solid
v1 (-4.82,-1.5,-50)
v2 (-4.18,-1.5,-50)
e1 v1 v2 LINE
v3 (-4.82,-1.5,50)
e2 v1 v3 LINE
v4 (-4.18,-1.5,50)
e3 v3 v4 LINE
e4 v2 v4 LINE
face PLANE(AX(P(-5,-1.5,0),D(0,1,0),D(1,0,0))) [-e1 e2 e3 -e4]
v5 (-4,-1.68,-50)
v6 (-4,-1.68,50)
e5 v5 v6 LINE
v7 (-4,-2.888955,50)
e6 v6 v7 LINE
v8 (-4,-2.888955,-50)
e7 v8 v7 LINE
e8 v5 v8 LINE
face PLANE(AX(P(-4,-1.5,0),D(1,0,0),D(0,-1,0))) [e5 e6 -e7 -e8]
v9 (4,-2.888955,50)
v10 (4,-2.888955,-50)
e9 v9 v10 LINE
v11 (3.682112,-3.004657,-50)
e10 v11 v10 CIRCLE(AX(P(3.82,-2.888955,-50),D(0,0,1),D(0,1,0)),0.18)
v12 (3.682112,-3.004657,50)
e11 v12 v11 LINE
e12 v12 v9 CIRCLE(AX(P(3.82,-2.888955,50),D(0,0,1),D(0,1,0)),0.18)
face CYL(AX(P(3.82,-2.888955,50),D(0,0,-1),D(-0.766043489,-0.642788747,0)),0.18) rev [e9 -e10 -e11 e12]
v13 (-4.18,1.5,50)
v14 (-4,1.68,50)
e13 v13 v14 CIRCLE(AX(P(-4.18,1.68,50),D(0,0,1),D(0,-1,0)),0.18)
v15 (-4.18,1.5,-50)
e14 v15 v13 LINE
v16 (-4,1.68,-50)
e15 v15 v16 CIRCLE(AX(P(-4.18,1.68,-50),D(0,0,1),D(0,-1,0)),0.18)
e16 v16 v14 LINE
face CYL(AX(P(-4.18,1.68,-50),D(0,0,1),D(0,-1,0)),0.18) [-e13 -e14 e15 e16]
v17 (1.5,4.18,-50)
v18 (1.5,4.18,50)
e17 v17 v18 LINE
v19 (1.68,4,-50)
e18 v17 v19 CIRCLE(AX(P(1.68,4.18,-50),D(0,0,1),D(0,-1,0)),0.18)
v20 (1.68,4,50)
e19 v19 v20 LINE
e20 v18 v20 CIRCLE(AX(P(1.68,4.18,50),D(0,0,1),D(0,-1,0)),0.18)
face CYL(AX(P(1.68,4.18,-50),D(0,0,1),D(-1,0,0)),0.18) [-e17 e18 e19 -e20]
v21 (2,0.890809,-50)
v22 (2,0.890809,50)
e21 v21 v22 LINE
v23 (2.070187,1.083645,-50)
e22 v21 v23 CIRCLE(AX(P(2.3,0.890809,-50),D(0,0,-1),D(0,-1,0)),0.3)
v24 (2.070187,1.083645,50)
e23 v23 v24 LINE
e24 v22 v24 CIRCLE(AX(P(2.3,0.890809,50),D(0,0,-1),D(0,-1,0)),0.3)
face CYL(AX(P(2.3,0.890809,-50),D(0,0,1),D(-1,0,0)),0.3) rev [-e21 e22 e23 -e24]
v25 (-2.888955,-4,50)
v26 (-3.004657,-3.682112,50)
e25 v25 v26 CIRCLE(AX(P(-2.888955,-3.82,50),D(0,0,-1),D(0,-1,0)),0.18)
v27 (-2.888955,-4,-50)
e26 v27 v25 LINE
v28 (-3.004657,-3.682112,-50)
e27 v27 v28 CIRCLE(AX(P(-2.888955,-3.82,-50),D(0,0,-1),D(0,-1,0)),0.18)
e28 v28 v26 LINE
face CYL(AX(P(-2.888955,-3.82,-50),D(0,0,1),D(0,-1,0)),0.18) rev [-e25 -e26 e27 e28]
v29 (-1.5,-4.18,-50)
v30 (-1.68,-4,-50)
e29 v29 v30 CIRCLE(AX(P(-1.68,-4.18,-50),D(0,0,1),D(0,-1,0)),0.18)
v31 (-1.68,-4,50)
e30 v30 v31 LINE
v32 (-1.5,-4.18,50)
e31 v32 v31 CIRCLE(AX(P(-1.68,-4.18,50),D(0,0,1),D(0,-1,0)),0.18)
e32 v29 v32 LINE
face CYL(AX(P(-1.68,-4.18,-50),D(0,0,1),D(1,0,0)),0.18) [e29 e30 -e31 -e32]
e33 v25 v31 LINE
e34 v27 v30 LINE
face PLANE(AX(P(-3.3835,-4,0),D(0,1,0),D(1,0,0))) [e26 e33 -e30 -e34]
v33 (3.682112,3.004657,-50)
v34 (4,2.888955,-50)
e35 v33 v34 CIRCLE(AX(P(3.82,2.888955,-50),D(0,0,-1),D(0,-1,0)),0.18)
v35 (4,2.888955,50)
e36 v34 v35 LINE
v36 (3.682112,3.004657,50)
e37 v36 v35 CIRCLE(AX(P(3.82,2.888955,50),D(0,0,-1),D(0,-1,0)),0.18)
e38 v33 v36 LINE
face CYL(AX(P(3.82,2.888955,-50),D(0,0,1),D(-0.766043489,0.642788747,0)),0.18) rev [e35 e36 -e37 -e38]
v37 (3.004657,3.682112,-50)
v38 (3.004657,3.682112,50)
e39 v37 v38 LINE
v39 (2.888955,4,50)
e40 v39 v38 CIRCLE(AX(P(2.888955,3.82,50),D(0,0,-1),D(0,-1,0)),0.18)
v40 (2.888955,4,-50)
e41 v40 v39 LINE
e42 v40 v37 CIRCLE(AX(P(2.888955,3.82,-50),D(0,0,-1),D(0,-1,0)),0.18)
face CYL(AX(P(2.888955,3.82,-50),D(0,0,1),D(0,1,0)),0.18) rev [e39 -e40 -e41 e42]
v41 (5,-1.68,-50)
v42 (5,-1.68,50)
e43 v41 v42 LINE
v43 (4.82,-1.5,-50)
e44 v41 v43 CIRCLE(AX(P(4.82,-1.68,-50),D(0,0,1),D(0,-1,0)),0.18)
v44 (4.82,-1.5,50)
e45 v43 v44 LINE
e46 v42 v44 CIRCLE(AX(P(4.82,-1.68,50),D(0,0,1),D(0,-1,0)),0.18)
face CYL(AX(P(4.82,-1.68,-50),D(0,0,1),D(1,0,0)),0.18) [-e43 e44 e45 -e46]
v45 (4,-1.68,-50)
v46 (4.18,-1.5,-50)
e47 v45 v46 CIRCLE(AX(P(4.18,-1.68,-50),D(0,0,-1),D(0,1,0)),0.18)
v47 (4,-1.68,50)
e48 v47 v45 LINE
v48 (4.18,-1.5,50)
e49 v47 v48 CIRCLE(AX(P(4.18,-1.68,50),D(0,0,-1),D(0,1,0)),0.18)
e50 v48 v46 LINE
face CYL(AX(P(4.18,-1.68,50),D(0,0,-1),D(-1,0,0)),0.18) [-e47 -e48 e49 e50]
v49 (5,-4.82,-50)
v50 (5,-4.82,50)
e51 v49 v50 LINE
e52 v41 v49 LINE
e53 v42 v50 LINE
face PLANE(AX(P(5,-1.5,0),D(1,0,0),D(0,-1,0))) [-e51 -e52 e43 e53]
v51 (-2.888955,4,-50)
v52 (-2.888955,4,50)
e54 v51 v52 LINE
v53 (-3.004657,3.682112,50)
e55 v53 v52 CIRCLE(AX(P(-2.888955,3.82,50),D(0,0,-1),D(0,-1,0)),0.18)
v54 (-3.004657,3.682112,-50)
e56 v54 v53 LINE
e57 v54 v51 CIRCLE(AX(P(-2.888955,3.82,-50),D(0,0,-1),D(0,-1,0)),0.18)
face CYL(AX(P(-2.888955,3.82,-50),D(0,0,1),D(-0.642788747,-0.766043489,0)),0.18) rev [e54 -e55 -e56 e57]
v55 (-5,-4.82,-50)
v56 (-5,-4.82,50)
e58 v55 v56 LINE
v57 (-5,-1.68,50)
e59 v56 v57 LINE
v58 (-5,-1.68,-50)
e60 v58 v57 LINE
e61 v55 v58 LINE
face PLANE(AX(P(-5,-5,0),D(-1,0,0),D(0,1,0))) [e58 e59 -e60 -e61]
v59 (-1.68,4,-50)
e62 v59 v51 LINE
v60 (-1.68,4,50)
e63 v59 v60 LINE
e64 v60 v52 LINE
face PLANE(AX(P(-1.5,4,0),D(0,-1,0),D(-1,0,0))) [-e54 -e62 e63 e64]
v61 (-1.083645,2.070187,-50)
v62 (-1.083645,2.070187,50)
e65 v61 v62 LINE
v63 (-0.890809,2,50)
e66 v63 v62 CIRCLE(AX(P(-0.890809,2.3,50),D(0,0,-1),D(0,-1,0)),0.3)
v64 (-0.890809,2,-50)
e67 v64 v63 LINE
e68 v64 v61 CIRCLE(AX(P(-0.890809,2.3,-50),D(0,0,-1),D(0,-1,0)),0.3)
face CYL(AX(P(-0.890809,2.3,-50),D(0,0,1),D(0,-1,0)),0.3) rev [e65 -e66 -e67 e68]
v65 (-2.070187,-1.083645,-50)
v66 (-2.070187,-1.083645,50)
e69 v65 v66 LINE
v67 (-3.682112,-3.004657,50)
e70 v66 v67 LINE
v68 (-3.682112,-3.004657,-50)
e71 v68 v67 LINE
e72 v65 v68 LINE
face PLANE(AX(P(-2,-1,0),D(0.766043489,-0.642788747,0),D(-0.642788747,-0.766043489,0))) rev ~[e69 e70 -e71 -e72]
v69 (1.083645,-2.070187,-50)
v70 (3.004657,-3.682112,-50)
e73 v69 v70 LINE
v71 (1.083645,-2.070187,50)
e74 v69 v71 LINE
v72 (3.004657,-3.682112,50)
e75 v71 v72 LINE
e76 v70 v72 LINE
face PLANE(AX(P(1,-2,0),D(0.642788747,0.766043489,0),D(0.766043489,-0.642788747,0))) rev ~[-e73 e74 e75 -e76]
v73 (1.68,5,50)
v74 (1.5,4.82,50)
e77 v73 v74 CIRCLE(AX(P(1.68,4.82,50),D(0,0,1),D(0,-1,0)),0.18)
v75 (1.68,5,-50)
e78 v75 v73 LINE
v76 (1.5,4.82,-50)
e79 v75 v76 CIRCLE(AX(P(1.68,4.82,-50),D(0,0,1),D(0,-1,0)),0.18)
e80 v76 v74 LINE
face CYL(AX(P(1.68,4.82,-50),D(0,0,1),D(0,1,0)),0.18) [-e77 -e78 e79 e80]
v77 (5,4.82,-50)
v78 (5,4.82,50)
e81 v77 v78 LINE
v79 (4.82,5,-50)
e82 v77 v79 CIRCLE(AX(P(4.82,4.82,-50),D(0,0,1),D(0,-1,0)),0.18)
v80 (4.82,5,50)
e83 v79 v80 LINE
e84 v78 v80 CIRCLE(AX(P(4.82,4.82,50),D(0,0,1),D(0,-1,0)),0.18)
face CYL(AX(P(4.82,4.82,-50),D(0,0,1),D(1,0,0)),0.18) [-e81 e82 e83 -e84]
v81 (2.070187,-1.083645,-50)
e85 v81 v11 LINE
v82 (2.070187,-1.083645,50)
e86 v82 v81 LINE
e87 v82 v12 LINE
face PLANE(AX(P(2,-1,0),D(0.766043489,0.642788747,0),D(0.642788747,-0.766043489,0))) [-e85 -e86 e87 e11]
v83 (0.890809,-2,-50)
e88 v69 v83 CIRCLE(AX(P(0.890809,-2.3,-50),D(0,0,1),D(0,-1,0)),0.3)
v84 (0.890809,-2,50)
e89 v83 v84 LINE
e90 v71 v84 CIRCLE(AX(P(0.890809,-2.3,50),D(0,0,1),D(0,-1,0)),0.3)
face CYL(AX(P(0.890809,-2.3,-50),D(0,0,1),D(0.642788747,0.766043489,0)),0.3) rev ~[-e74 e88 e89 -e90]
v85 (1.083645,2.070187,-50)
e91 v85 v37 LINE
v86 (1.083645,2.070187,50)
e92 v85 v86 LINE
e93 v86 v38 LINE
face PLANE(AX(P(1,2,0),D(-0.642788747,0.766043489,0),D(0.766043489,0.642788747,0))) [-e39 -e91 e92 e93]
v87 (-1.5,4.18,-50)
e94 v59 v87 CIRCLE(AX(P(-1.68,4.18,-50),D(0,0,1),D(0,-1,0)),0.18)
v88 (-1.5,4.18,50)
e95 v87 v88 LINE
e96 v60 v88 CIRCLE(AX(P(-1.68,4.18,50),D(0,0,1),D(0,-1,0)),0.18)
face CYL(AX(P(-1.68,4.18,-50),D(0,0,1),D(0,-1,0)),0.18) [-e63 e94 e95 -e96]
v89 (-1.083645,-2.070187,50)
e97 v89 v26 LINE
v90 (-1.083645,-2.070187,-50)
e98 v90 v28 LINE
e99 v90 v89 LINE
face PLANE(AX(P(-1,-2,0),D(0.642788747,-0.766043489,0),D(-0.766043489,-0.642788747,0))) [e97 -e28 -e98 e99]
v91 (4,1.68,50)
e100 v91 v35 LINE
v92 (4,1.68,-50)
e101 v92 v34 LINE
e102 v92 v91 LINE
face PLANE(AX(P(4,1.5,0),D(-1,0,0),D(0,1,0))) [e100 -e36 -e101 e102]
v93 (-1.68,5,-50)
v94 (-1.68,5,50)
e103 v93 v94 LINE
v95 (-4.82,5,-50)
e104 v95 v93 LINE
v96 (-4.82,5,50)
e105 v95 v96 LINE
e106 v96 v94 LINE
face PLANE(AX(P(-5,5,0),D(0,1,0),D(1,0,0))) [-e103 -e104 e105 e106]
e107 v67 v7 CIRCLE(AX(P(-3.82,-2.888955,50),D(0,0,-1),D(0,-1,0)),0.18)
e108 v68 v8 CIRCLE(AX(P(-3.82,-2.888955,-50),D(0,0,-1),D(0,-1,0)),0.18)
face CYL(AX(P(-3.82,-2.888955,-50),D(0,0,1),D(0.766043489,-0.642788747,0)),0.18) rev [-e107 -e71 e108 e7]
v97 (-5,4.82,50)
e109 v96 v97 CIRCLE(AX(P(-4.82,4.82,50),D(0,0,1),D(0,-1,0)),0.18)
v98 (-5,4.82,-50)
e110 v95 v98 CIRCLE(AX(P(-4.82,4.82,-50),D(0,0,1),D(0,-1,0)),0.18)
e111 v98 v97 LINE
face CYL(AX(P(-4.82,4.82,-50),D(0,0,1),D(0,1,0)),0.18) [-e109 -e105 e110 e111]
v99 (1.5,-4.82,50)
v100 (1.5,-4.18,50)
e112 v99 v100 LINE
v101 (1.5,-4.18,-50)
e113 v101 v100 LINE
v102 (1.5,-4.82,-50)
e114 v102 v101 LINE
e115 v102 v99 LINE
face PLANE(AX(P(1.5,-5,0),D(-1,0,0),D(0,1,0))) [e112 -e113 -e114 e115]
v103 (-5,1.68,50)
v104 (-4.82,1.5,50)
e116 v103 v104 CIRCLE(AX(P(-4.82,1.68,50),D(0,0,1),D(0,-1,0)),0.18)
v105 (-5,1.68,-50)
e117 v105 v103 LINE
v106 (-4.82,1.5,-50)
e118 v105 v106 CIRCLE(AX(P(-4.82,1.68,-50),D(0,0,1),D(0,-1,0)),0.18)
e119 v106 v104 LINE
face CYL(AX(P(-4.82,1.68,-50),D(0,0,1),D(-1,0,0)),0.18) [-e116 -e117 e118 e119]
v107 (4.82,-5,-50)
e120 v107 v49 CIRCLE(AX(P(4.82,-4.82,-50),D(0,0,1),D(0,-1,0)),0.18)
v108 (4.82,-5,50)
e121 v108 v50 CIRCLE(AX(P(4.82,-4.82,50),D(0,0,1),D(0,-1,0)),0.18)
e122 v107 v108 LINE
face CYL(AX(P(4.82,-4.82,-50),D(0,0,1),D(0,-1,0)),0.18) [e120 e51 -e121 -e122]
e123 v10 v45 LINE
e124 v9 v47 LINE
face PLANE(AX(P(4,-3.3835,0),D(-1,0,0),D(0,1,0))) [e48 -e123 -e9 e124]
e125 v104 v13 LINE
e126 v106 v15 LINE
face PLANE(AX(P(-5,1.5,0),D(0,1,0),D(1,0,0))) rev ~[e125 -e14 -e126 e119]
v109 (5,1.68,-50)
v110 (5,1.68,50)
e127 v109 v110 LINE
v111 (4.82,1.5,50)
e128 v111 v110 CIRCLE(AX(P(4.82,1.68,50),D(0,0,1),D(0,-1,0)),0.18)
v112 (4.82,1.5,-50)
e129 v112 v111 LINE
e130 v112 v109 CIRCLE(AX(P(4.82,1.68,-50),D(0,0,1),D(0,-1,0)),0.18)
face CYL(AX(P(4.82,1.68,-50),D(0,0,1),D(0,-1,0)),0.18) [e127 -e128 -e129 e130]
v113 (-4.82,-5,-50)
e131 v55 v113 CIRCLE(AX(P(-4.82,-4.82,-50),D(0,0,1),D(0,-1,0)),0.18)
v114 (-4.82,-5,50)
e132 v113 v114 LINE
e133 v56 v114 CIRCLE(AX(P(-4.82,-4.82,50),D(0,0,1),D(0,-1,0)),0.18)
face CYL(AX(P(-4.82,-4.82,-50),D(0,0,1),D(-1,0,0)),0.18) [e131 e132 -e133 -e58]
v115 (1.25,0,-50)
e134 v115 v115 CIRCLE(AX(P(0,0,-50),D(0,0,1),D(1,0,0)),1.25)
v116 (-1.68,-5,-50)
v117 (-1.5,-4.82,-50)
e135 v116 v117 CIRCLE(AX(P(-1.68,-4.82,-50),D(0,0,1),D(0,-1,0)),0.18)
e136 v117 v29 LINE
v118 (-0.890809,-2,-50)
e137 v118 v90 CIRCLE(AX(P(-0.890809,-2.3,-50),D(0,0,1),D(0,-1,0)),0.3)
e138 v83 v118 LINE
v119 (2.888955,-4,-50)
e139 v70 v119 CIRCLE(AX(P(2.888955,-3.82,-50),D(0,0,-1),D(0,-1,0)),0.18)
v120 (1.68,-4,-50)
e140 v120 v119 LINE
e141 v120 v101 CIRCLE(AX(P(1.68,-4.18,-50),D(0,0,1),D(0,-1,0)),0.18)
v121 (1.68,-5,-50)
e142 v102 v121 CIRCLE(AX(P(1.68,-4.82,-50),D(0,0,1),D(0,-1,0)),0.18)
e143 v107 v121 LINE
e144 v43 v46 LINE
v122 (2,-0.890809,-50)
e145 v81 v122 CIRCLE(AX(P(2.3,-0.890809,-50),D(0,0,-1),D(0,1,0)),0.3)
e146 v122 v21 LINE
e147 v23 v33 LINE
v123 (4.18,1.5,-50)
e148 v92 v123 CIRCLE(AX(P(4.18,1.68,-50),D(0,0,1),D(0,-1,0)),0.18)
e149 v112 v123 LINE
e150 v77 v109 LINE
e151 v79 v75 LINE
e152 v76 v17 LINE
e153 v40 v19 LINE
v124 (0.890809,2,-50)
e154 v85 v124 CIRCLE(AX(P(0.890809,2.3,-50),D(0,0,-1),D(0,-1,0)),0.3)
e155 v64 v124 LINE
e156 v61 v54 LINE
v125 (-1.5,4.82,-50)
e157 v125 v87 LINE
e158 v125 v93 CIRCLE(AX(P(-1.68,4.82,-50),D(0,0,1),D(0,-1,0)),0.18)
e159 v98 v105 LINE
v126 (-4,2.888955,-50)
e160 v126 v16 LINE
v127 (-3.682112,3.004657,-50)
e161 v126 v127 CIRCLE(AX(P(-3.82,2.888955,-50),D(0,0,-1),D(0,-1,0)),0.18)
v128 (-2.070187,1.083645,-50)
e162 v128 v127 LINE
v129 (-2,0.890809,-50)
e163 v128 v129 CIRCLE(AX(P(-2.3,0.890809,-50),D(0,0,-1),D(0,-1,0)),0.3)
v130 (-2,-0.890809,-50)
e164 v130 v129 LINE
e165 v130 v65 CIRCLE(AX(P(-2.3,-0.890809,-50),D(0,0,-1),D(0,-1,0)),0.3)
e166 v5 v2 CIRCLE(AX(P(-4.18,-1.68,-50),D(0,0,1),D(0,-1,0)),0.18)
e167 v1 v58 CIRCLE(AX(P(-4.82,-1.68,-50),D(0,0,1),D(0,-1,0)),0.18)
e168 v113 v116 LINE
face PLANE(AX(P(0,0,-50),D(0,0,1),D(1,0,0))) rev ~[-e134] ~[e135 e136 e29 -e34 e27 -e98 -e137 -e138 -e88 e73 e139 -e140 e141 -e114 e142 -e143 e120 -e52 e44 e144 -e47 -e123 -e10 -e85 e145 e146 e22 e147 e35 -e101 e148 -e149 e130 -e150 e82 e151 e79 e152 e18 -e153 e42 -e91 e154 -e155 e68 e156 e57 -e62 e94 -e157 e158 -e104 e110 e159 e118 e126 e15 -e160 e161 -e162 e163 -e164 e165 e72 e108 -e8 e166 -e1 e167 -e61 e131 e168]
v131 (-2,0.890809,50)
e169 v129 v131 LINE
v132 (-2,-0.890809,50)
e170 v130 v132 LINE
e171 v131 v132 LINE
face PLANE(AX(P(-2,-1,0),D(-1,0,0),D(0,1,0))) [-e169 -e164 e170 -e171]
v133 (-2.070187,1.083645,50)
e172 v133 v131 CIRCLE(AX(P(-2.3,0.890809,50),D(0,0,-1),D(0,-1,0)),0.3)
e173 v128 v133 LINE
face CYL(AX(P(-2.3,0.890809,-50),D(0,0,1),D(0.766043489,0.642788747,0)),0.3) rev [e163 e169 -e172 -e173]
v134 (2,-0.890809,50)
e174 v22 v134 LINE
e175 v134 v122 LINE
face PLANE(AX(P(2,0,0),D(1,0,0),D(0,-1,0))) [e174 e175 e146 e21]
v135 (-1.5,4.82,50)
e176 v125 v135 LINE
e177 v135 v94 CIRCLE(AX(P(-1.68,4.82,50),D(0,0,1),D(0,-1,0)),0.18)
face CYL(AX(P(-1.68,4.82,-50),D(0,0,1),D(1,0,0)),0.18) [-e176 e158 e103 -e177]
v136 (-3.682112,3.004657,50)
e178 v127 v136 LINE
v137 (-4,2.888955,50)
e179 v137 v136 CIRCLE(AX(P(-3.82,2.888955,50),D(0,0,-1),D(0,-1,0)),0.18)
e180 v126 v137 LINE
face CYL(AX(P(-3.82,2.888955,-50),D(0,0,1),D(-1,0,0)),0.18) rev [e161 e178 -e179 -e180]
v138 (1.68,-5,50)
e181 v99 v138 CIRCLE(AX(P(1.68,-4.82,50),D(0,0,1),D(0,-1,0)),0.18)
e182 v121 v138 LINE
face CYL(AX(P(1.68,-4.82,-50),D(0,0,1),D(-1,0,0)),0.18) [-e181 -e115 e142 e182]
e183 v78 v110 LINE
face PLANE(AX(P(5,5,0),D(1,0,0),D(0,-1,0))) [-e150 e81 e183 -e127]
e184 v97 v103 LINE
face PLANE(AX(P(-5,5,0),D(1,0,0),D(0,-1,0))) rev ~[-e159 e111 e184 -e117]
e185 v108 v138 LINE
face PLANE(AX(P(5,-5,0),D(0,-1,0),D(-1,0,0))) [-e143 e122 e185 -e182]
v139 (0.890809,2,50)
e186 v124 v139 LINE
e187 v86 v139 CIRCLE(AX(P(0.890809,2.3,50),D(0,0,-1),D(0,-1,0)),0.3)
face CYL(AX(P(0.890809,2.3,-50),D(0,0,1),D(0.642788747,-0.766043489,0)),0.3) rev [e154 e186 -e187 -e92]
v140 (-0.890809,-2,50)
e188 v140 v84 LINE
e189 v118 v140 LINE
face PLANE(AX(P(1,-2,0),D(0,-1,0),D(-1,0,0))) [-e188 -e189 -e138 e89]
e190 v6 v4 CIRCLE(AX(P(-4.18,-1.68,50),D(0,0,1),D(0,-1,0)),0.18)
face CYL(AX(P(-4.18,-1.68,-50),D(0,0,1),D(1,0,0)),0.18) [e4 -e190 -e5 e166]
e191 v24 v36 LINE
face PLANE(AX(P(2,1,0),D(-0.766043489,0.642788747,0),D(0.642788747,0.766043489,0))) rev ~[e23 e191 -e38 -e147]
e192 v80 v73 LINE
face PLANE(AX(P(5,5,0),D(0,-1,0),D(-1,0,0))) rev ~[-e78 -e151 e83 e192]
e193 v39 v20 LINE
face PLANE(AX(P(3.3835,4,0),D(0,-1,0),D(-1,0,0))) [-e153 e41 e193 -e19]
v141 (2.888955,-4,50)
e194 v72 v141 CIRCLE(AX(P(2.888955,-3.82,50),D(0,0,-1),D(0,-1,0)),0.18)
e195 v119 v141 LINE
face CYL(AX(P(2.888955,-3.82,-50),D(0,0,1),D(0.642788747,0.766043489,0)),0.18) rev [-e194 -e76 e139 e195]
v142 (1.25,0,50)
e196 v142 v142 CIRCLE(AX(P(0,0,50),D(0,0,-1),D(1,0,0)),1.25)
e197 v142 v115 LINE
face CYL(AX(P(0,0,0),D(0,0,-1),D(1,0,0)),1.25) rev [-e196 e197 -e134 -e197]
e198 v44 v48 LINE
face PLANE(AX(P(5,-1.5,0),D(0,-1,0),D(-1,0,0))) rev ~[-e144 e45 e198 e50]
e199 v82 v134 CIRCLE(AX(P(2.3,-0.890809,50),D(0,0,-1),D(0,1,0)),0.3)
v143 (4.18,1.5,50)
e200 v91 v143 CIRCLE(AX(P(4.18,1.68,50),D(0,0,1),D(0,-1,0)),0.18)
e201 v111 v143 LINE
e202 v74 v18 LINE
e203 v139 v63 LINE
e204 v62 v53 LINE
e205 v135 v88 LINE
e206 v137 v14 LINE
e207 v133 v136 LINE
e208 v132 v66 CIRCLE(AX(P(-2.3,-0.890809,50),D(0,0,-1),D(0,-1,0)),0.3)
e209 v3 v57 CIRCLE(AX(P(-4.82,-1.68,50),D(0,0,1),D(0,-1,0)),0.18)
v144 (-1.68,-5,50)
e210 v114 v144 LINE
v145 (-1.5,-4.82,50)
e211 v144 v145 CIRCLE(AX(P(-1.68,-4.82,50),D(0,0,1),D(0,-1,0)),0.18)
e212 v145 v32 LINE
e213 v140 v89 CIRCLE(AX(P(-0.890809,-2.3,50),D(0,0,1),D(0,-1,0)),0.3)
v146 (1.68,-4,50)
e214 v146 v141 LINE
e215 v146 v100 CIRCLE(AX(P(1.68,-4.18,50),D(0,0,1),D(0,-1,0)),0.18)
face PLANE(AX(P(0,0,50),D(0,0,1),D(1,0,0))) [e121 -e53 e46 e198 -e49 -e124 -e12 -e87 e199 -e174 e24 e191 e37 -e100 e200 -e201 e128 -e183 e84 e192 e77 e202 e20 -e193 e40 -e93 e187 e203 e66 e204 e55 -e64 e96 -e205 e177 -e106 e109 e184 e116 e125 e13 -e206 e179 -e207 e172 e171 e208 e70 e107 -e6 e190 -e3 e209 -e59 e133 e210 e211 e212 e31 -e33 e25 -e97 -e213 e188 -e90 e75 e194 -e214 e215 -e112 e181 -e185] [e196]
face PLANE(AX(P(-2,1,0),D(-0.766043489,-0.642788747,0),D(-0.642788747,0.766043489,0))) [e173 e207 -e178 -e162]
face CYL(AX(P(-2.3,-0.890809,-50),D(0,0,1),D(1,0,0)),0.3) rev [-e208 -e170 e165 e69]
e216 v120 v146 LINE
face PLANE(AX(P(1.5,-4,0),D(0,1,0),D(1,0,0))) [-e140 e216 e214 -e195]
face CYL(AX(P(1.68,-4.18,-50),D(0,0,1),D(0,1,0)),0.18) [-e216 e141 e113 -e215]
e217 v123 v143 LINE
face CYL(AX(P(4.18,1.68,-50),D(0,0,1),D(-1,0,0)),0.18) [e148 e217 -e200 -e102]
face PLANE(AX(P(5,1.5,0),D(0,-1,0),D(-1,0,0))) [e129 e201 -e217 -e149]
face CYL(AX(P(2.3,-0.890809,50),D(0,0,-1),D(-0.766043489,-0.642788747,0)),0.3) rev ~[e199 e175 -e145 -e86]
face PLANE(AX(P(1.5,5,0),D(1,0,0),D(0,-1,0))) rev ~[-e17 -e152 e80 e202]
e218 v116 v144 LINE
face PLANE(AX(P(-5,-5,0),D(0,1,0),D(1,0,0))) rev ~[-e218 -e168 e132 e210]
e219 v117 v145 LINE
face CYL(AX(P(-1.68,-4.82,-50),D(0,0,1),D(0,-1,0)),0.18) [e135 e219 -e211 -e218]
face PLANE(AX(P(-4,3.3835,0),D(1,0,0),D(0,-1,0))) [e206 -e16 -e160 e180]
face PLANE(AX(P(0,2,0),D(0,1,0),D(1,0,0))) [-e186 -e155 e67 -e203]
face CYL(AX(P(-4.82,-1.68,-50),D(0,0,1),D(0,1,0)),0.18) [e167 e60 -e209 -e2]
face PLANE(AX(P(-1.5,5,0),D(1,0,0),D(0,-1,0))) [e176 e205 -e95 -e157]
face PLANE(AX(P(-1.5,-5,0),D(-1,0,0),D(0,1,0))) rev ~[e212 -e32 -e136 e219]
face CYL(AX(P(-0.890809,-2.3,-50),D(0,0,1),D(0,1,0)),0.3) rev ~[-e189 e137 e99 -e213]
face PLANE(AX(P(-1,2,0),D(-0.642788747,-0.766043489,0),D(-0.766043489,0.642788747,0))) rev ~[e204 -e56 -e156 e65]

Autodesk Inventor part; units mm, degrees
ref_plane "YZ Plane" through (0, 0, 0) normal (1, 0, 0) x (0, 1, 0)
ref_plane "XZ Plane" through (0, 0, 0) normal (0, 1, 0) x (-1, 0, 0)
ref_plane "XY Plane" through (0, 0, 0) normal (0, 0, 1) x (1, 0, 0)
sketch "Sketch1" plane through (0, 0, 0) normal (0, 0, 1) x (1, 0, 0)
  circle A0 centre (0, 0) radius 1.25
  line L0 (0, -7) -> (0, 7) projected
  line L1 (-7.0223, 0) -> (7.1337, 0) projected
  line L2 (5, 5) -> (1.5, 5)
  line L3 (1.5, 5) -> (1.5, 4)
  line L4 (5, 5) -> (5, 1.5)
  line L5 (-1, 2) -> (1, 2)
  line L6 (2, 1) -> (2, -1)
  line L7 (1, -2) -> (-1, -2)
  line L8 (-2, -1) -> (-2, 1)
  line L9 (1, 2) -> (3.3835, 4)
  line L10 (2, 2) -> (4.1114, 2) construction
  line L11 (3.3835, 4) -> (1.5, 4)
  line L12 (2, 1) -> (4, 3.3835)
  line L13 (2, 1) -> (5.1114, 1) construction
  line L14 (5, 1.5) -> (4, 1.5)
  line L15 (4, 1.5) -> (4, 3.3835)
  line L16 (5, 5) -> (5, 1.5)
  line L17 (-5, 5) -> (-1.5, 5)
  line L18 (1.5, 5) -> (5, 5)
  line L19 (5, 5) -> (5, 1.5)
  line L20 (5, 0) -> (5, -5)
  line L21 (-2, 1) -> (-4, 3.3835)
  line L22 (-4, 3.3835) -> (-4, 1.5)
  line L23 (-5, 1.5) -> (-4, 1.5)
  line L24 (-5, 5) -> (-5, 1.5)
  line L25 (-5, 5) -> (-1.5, 5)
  line L26 (-1.5, 5) -> (-1.5, 4)
  line L27 (-1.5, 4) -> (-3.3835, 4)
  line L28 (-1, 2) -> (-3.3835, 4)
  line L29 (-1, -2) -> (-3.3835, -4)
  line L30 (-3.3835, -4) -> (-1.5, -4)
  line L31 (-1.5, -5) -> (-1.5, -4)
  line L32 (-5, -5) -> (-1.5, -5)
  line L33 (-5, -5) -> (-5, -1.5)
  line L34 (-5, -1.5) -> (-4, -1.5)
  line L35 (-4, -1.5) -> (-4, -3.3835)
  line L36 (-2, -1) -> (-4, -3.3835)
  line L37 (2, -1) -> (4, -3.3835)
  line L38 (4, -3.3835) -> (4, -1.5)
  line L39 (5, -1.5) -> (4, -1.5)
  line L40 (5, -5) -> (5, -1.5)
  line L41 (5, -5) -> (1.5, -5)
  line L42 (1.5, -5) -> (1.5, -4)
  line L43 (1.5, -4) -> (3.3835, -4)
  line L44 (1, -2) -> (3.3835, -4)
  line L45 (-5, -5) -> (-5, -1.5)
  line L46 (-5, 1.5) -> (-5, 5)
  line L47 (5, -5) -> (1.5, -5)
  line L48 (-1.5, -5) -> (-5, -5)
  dimension "d0" = 2.5
  dimension "d3" = 3.5
  dimension "d4" = 1
  dimension "d5" = 90
  dimension "d6" = 3.5
  dimension "d10" = 2
  dimension "d11" = 40
  dimension "d13" = 50
  dimension "d14" = 1
  dimension "d17" = 360
  dimension "d19" = 3.1115
extrude "Extrusion1" add sketch "Sketch1" along normal mid plane 100 contours L1 L6 L37 L38 L39 L20 L41 L42 L43 L44 L7 L0 A0 | A0 L0 L5 L9 L11 L3 L2 L4 L14 L15 L12 L6 L1 | A0 L1 L8 L21 L22 L23 L24 L17 L26 L27 L28 L5 L0 | L0 L7 L29 L30 L31 L32 L33 L34 L35 L36 L8 L1 A0
fillet "Fillet1" radius 0.18 28 edges at (-5, 5, 0) (-5, 1.5, 0) (-1.5, 5, 0) (-1.5, 4, 0) (-4, 1.5, 0) (-3.3835, 4, 0) (-4, 3.3835, 0) (1.5, 5, 0) (5, 5, 0) (3.3835, 4, 0) (4, 3.3835, 0) (4, 1.5, 0) (5, 1.5, 0) (1.5, 4, 0) (4, -1.5, 0) (5, -1.5, 0) (5, -5, 0) (4, -3.3835, 0) (3.3835, -4, 0) (1.5, -4, 0) (1.5, -5, 0) (-3.3835, -4, 0) (-4, -3.3835, 0) (-4, -1.5, 0) (-5, -1.5, 0) (-5, -5, 0) (-1.5, -5, 0) (-1.5, -4, 0)
fillet "Fillet2" radius 0.3 8 edges at (-1, 2, 0) (1, 2, 0) (2, -1, 0) (2, 1, 0) (1, -2, 0) (-1, -2, 0) (-2, -1, 0) (-2, 1, 0)
thread "Thread1" size "M3x0.5" class "6H" standard "ANSI Metric M Profile" length 8
thread "Thread2" size "M3x0.5" class "6H" standard "ANSI Metric M Profile" length 8
properties part number "Beam_10mm"
